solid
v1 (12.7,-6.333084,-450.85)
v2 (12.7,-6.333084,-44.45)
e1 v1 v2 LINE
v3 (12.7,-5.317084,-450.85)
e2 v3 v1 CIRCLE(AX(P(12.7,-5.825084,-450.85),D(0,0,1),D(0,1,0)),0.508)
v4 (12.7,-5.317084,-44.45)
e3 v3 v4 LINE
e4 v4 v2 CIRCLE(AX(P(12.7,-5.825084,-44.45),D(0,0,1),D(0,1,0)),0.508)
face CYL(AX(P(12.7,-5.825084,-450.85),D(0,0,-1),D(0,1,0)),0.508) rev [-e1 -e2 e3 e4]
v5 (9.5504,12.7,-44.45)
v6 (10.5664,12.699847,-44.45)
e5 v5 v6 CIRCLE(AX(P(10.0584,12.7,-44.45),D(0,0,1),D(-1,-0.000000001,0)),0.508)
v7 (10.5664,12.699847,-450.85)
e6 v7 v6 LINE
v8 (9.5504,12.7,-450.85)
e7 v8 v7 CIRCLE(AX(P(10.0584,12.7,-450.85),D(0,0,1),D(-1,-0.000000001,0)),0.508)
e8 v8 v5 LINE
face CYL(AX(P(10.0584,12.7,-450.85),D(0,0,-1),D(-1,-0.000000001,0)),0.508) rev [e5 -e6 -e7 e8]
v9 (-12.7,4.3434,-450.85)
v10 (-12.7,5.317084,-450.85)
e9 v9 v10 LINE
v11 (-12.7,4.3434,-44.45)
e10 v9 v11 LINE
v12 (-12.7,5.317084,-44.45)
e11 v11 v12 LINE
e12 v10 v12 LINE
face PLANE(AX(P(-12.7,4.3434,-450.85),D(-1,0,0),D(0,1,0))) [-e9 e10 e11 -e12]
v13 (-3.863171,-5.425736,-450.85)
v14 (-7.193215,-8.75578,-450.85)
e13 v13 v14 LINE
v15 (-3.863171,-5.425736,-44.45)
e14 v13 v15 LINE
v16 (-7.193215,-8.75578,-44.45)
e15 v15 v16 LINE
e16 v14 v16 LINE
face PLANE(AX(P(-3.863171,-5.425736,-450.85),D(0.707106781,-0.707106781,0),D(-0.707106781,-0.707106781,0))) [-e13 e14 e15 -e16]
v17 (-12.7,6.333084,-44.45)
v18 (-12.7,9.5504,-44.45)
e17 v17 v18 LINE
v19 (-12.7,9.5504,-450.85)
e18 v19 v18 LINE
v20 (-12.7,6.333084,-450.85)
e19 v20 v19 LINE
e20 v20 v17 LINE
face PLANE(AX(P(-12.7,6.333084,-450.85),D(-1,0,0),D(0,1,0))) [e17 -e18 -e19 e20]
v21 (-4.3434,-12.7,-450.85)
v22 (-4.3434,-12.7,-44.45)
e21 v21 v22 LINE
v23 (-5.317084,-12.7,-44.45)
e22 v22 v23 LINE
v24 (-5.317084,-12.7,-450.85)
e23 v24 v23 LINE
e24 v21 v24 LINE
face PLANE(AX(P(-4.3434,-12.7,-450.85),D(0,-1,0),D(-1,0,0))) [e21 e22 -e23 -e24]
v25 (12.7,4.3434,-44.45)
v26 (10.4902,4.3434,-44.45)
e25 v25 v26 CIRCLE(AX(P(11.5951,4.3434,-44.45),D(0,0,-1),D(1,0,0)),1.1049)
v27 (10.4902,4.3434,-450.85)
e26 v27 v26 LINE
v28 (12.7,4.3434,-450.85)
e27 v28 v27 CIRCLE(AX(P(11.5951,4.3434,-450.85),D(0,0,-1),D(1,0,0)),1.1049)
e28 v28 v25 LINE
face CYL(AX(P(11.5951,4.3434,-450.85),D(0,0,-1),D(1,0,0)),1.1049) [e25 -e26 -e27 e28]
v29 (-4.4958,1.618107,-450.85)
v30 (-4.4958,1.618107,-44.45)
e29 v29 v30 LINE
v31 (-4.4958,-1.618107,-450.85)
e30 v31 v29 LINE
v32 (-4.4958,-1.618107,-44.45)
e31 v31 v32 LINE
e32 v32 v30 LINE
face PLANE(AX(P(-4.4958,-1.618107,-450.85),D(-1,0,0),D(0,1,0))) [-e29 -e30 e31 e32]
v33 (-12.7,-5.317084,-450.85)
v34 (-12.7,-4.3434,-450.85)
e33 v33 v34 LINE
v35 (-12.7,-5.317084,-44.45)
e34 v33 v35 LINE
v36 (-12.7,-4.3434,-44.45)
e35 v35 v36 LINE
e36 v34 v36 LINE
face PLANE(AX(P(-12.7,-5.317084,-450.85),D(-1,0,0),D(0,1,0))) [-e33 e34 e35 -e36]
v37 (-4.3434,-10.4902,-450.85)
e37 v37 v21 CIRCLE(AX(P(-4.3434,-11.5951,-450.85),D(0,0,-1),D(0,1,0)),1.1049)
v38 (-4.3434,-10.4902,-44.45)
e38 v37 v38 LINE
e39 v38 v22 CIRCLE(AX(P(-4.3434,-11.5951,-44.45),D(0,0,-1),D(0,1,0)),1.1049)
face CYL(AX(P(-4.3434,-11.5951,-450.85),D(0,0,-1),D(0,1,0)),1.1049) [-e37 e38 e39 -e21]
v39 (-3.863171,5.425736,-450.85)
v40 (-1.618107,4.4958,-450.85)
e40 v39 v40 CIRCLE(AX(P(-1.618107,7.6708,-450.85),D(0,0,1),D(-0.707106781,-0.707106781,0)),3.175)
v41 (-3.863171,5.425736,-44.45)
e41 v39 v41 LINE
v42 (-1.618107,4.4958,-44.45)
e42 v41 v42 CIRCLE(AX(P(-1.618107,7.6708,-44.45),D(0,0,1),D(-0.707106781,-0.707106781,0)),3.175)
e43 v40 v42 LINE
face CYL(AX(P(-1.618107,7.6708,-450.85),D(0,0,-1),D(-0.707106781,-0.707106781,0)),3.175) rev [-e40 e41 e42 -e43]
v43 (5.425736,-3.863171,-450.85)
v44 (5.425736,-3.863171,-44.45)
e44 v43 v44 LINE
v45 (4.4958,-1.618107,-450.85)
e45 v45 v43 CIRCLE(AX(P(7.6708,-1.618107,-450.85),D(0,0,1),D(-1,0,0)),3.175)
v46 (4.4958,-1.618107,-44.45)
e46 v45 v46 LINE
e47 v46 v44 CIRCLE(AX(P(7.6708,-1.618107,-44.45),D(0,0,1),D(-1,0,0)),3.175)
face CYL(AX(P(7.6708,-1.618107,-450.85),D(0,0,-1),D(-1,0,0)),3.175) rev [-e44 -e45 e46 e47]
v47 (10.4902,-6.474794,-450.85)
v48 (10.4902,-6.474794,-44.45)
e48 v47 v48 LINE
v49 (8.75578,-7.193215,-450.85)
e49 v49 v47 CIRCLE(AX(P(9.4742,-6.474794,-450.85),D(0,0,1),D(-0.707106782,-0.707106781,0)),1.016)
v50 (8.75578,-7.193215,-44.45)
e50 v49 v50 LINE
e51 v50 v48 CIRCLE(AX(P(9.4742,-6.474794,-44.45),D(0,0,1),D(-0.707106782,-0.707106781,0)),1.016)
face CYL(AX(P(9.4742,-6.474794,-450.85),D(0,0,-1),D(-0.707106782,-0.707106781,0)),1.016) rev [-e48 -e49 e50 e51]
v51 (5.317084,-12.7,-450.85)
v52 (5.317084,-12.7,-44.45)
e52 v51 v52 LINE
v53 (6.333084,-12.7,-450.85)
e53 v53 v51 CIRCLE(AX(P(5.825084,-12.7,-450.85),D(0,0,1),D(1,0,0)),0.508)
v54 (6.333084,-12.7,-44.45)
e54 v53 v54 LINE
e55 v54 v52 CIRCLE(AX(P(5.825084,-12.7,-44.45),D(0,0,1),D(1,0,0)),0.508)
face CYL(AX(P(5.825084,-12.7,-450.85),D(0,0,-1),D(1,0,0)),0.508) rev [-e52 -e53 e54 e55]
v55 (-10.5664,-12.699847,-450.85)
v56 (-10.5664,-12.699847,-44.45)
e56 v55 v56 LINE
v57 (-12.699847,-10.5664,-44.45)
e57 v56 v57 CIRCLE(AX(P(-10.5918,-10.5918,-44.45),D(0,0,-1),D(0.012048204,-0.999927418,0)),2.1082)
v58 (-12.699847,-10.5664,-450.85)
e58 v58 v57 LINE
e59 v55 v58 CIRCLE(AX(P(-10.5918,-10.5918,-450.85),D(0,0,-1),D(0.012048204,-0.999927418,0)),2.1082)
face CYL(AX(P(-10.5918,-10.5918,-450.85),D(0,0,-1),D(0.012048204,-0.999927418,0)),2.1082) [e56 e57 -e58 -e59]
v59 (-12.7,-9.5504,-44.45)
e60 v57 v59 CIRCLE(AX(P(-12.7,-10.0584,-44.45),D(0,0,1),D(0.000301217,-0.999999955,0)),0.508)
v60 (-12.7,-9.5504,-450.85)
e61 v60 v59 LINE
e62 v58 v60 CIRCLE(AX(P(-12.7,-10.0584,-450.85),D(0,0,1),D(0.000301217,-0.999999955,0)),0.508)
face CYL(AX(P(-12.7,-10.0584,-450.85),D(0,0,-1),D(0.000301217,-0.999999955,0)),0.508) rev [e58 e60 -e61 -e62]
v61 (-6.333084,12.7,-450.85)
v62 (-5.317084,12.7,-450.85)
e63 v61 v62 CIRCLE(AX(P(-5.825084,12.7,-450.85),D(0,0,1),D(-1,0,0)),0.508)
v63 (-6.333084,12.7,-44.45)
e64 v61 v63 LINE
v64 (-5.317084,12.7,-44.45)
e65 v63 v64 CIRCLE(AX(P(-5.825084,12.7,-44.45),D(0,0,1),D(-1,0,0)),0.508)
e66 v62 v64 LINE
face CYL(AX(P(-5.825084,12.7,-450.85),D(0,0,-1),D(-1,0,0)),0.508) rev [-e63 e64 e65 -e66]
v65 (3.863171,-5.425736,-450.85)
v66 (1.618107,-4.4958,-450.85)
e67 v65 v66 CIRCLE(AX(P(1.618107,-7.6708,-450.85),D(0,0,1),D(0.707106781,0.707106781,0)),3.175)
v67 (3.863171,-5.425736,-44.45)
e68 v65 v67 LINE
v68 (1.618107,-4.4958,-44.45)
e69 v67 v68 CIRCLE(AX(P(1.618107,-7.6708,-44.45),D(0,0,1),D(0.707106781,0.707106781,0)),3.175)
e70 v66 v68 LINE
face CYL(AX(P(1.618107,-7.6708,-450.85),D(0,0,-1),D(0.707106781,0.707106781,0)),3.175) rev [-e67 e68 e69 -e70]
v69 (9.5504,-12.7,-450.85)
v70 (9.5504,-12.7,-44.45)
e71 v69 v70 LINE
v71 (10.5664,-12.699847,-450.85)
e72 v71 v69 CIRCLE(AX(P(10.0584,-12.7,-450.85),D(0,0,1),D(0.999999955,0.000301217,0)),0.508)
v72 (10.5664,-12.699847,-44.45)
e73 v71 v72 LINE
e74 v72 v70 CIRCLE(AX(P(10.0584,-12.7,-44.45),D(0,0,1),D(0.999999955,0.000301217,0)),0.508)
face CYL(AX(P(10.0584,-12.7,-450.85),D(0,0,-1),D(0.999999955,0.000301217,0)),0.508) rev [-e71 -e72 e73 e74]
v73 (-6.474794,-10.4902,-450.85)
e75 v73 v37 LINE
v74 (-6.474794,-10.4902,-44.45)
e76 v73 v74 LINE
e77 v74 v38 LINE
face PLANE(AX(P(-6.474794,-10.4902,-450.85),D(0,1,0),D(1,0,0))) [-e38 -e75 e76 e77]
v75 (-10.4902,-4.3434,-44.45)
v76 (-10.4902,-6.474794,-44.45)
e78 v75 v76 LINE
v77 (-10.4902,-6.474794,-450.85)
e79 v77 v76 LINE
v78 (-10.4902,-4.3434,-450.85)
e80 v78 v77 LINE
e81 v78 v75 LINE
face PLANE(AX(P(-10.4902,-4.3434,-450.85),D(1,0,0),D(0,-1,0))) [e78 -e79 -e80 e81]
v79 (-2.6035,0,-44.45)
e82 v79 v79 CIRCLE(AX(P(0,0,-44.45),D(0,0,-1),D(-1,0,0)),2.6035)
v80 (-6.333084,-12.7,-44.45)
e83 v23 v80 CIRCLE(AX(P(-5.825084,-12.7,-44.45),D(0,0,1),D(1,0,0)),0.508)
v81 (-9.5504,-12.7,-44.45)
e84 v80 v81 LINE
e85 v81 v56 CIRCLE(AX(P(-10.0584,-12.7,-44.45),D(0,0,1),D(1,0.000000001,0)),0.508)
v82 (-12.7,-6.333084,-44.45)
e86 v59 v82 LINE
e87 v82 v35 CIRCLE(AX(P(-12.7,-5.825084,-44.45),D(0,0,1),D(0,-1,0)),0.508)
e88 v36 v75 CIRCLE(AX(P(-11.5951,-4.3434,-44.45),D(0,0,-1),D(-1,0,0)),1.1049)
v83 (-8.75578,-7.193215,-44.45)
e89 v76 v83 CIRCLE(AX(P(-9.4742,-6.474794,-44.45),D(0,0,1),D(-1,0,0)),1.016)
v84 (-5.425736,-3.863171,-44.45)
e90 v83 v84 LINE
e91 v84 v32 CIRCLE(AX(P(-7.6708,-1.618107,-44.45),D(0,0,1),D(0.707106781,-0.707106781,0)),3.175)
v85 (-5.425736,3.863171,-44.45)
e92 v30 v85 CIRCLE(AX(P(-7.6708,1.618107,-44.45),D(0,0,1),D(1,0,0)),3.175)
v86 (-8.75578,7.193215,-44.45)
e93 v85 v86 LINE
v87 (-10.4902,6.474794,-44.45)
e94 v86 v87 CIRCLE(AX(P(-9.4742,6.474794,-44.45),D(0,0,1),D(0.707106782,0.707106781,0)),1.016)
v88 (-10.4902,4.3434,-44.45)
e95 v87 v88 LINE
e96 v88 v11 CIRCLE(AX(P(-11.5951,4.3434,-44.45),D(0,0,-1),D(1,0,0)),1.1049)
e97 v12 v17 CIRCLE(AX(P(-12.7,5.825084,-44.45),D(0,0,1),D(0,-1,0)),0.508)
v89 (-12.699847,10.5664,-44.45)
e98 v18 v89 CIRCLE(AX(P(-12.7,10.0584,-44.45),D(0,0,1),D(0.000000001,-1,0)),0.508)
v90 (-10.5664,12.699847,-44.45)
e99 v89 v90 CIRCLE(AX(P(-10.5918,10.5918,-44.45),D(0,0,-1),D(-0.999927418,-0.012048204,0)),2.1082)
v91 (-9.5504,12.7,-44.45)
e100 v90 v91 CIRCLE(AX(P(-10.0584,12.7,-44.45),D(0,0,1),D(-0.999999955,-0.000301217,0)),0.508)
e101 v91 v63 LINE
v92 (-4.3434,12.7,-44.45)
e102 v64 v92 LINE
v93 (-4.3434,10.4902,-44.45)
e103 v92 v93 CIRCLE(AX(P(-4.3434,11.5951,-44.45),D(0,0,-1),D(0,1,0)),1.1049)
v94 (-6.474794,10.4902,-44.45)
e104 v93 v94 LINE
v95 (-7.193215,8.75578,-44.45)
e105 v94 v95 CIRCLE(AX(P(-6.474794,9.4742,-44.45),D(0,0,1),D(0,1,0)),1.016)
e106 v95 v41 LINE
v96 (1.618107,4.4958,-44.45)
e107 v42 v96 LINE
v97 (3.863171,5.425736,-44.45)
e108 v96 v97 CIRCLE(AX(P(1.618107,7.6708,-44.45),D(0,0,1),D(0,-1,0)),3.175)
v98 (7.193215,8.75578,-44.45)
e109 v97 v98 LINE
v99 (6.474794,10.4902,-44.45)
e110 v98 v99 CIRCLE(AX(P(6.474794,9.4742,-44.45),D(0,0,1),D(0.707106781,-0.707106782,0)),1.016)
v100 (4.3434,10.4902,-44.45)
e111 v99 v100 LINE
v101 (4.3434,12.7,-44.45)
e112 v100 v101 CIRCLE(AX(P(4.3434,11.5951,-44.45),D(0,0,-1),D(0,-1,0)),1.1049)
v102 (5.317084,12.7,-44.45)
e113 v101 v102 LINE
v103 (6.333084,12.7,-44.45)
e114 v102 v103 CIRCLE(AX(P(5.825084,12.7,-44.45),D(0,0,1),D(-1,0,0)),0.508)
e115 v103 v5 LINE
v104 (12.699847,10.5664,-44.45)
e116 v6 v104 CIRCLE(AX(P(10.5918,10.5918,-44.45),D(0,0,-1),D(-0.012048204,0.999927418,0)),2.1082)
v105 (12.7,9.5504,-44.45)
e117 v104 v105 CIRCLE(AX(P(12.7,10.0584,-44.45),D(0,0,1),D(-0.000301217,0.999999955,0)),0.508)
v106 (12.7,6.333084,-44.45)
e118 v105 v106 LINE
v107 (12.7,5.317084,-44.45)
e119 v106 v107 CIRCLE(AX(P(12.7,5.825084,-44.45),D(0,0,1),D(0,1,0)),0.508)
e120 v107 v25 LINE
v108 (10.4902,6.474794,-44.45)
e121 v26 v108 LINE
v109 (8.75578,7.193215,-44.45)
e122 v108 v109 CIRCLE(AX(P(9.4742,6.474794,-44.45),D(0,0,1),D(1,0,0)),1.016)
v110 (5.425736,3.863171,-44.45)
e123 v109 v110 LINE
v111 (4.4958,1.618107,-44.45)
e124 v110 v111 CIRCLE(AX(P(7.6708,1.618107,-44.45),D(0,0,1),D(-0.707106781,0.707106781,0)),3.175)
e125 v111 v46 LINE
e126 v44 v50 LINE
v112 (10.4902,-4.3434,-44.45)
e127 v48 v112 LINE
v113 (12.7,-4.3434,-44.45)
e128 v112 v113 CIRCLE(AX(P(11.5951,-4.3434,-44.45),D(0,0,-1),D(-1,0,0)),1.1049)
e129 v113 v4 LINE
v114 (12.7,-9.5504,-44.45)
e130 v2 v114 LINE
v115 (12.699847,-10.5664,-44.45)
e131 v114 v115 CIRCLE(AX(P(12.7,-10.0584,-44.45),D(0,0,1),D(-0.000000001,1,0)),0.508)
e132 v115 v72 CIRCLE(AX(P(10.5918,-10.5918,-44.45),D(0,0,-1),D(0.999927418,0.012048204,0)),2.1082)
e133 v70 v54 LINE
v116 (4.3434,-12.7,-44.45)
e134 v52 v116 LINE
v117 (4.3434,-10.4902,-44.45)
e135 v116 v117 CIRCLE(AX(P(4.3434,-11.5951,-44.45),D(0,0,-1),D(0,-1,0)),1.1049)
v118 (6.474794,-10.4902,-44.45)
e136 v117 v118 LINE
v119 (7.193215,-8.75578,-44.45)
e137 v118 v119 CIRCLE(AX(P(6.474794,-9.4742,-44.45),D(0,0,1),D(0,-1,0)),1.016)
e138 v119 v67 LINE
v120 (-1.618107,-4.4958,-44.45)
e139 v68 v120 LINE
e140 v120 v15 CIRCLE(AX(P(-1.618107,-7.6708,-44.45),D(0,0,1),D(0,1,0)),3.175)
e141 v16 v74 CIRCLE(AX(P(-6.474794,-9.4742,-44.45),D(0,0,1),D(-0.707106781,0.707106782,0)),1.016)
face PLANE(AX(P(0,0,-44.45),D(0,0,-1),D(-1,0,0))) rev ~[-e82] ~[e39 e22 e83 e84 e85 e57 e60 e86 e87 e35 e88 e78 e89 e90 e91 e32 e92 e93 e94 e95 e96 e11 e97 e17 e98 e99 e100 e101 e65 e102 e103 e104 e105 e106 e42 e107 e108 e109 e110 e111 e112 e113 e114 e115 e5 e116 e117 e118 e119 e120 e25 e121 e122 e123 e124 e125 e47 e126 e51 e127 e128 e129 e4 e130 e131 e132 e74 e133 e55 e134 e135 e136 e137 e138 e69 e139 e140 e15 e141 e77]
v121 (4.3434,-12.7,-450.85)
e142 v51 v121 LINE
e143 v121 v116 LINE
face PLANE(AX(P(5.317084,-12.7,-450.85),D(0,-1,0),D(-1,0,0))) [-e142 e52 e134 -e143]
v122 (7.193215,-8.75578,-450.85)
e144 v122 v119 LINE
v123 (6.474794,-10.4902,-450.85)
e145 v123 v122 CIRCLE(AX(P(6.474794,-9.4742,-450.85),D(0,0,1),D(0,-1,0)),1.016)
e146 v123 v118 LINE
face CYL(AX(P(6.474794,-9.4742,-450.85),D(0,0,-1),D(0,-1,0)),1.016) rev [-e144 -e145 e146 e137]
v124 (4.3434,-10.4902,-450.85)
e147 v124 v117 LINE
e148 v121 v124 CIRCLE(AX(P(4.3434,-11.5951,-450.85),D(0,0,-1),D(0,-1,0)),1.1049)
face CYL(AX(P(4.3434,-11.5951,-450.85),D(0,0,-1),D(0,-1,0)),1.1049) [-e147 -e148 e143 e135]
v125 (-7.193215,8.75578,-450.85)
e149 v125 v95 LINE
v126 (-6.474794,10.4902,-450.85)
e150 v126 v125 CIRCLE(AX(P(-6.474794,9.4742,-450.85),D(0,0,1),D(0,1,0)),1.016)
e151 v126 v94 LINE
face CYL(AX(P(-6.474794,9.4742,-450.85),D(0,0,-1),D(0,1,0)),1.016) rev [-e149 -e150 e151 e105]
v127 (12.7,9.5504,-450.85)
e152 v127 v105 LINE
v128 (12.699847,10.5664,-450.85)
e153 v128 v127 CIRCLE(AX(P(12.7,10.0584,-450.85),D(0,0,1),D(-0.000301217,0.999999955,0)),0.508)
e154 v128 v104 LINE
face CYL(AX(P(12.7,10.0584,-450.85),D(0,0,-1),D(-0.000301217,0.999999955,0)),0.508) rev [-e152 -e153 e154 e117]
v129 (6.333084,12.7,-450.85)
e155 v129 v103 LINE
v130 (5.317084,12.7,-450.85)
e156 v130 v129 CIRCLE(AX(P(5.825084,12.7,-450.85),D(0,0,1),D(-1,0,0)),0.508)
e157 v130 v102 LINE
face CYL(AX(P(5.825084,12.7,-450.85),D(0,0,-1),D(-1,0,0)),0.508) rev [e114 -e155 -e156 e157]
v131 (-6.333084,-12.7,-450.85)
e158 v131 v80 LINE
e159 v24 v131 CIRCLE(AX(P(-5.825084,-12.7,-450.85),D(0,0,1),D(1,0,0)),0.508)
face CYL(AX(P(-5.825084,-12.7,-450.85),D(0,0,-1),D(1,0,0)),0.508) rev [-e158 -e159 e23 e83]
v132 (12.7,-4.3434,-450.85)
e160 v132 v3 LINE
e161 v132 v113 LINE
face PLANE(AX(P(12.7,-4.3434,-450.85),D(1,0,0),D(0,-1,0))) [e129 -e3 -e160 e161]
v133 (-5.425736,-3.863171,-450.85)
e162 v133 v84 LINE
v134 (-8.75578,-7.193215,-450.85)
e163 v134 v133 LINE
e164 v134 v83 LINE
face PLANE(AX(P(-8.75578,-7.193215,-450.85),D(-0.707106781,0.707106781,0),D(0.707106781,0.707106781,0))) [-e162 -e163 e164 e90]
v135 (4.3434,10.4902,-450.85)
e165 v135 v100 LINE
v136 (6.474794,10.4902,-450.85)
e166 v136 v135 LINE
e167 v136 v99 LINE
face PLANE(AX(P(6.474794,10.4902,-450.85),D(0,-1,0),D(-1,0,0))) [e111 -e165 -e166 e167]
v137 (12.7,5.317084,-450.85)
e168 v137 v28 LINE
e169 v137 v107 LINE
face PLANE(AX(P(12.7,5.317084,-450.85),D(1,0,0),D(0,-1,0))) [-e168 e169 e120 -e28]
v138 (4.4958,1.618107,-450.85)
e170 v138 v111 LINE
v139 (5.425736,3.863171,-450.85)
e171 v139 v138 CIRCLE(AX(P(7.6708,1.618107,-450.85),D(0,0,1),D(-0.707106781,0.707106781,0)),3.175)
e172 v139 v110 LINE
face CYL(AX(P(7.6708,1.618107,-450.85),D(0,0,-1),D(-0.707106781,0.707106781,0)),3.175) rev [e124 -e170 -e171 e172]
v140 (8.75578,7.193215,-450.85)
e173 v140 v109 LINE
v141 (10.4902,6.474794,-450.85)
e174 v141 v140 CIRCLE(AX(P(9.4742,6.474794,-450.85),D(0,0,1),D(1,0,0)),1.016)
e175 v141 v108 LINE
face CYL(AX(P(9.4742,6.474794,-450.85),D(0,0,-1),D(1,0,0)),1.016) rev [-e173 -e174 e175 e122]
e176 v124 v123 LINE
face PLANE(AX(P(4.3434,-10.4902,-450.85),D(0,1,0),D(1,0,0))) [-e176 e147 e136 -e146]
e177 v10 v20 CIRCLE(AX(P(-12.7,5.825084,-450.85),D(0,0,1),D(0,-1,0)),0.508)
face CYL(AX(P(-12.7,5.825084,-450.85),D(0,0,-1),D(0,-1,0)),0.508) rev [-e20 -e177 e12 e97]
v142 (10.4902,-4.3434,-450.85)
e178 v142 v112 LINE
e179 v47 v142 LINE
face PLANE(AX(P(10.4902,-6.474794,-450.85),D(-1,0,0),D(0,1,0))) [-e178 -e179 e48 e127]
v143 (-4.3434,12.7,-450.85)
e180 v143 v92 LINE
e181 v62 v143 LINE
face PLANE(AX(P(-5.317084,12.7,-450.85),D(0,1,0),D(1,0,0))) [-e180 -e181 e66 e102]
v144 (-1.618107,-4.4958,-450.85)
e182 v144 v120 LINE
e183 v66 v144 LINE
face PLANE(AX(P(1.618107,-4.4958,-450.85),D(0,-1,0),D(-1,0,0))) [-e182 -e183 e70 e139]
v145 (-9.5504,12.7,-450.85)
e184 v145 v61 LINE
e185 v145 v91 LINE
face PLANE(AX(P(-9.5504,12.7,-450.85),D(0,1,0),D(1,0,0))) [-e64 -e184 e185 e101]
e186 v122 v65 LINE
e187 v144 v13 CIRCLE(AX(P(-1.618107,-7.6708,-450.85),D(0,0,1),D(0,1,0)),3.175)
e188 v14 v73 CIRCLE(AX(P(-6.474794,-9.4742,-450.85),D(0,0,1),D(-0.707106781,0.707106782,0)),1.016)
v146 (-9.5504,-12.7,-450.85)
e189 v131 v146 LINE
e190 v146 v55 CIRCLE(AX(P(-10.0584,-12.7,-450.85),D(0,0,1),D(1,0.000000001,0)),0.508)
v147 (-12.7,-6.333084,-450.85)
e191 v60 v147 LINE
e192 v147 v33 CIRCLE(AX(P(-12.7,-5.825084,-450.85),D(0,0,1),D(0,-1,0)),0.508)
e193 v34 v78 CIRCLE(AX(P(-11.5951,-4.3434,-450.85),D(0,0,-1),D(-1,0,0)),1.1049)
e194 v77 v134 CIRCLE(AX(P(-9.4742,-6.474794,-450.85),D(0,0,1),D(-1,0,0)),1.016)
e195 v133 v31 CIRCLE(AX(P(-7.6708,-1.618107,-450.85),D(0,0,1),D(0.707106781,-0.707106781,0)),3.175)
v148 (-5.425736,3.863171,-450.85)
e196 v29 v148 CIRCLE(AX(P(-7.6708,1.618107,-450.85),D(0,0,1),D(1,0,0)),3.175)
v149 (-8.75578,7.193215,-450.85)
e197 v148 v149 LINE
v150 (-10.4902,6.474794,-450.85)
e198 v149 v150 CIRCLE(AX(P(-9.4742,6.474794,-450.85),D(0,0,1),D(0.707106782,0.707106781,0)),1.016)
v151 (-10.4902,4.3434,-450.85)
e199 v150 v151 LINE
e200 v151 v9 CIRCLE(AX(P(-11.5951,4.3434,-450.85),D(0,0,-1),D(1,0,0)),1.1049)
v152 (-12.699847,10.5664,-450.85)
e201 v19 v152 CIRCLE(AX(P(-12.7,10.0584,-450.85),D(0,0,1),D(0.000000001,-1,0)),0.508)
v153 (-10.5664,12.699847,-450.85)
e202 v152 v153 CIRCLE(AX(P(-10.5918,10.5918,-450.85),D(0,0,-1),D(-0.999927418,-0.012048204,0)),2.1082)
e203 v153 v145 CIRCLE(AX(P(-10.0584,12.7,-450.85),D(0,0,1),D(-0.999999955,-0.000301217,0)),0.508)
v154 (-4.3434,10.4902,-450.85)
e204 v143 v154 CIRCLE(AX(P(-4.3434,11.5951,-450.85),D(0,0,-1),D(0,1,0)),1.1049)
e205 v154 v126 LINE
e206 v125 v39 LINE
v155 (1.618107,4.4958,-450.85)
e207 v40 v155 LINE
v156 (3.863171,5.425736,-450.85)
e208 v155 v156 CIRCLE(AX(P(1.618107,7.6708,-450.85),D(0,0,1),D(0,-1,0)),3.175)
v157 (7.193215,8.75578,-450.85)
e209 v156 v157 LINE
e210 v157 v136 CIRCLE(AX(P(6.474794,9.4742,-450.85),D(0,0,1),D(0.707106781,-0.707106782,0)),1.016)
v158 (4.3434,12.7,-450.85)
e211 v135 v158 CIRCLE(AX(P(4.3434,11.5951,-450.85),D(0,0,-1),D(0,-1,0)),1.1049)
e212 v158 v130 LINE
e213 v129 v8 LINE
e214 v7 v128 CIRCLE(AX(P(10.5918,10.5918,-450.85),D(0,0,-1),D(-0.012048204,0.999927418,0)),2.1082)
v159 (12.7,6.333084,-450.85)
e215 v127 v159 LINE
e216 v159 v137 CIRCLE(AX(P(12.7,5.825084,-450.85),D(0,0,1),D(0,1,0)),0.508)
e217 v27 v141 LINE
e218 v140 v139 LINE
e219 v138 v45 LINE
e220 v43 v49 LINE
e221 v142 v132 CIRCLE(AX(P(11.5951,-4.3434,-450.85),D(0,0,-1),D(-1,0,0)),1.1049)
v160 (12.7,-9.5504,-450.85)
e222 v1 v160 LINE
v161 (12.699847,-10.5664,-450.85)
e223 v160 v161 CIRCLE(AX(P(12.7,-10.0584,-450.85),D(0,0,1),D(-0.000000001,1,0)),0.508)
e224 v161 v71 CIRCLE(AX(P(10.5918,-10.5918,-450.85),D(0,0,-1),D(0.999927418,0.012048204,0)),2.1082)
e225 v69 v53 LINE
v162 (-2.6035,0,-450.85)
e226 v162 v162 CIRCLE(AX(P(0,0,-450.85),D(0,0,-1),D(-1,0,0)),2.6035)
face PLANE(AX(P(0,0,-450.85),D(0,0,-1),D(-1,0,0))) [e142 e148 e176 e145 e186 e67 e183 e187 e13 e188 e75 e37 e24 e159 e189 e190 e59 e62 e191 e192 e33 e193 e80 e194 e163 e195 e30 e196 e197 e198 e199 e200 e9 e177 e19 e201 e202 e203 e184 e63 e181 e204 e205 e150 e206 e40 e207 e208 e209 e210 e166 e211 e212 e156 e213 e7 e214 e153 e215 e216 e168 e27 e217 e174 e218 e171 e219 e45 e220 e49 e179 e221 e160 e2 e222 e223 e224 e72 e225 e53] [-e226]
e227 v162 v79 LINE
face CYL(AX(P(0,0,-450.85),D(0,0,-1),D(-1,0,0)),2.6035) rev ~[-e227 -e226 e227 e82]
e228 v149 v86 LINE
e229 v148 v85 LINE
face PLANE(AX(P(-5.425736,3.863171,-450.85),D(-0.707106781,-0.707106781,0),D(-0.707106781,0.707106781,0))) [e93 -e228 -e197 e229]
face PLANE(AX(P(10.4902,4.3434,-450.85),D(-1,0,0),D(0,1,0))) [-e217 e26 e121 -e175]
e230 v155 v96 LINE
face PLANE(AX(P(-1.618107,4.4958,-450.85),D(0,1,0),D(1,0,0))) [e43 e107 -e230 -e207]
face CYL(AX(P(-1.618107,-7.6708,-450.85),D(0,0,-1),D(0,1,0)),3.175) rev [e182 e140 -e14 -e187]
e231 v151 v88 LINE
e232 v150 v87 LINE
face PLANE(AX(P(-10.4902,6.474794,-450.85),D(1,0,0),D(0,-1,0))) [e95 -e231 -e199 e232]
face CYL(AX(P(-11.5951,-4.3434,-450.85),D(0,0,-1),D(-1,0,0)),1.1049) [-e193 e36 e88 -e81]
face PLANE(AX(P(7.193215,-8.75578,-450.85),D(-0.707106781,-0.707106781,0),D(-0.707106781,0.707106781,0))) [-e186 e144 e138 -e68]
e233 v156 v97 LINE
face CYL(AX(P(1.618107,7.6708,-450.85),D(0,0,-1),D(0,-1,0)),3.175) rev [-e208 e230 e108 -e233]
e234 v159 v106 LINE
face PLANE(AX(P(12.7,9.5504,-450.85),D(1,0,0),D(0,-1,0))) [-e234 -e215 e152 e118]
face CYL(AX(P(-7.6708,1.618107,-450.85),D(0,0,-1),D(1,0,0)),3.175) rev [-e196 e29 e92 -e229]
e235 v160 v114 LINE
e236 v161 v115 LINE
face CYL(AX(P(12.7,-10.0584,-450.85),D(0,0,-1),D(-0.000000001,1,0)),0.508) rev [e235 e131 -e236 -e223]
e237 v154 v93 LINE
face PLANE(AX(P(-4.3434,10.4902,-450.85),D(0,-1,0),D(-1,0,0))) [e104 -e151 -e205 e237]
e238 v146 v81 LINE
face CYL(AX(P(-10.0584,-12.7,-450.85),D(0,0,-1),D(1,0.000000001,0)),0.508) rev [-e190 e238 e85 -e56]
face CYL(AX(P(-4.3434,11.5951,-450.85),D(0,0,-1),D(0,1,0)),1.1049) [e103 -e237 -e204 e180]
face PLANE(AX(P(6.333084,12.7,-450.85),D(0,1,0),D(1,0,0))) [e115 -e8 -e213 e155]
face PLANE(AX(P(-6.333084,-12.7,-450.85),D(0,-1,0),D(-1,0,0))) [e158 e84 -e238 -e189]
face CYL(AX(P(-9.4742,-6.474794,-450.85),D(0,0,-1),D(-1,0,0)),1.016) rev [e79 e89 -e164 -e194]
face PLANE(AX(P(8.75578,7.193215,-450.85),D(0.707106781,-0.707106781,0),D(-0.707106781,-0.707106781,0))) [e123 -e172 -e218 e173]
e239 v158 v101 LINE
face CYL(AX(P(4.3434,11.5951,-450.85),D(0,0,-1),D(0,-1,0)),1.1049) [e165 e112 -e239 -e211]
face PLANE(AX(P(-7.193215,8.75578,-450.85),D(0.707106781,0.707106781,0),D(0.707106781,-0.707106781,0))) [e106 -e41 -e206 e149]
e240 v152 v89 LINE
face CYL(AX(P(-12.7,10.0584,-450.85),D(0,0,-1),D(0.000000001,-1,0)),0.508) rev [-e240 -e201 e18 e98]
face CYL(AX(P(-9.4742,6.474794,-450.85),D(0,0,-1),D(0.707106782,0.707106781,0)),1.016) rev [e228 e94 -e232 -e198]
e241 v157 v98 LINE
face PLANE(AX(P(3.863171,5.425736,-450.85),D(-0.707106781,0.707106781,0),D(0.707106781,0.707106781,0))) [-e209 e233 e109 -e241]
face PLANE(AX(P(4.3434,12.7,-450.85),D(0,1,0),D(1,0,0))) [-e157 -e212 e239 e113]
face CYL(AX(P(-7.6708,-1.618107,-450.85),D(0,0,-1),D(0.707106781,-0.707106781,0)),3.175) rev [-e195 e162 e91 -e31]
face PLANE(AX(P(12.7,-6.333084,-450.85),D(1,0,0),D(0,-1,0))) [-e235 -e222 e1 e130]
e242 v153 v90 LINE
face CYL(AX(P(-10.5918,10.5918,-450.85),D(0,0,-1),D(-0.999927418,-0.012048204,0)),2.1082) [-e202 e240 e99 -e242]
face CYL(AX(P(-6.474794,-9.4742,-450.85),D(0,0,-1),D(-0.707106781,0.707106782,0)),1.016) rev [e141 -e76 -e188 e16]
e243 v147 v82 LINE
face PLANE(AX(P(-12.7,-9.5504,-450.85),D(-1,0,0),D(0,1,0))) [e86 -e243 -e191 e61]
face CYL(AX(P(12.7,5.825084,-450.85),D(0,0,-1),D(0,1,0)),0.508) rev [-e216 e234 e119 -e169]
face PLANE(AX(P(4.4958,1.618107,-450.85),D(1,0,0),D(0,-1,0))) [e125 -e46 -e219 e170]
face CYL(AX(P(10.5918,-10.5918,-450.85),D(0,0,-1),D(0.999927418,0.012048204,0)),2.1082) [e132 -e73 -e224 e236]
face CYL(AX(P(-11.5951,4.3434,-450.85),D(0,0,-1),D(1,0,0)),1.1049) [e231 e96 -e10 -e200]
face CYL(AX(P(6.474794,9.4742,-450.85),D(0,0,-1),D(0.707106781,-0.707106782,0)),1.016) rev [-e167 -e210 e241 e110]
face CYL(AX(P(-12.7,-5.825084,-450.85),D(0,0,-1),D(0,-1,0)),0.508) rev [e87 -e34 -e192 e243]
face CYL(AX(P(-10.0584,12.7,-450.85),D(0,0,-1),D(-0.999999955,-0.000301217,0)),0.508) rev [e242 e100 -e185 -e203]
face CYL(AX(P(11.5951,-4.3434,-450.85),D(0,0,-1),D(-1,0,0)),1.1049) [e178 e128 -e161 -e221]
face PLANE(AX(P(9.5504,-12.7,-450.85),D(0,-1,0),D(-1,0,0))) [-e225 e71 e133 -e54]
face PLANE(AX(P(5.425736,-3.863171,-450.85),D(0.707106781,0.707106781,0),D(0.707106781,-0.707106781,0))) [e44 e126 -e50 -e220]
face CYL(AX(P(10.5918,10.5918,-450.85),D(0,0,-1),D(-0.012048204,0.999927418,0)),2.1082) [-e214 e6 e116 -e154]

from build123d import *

# Parameters (mm, degrees)
SKETCH1_R           = 2.6035
BOSS_EXTRUDE1_DEPTH = 406.4


with BuildPart() as part:
    # Sketch1 → Boss-Extrude1 (new body)
    with BuildSketch(Plane(origin=(0, 0, -450.85), x_dir=(-1, 0, 0), z_dir=(0, 0, -1))):
        with BuildLine():
            Line((12.7, -9.5504), (12.7, -6.3330836))
            ThreePointArc((12.7, -6.3330836), (12.192, -5.8250836), (12.7, -5.3170836))
            Line((12.7, -5.3170836), (12.7, -4.3434))
            ThreePointArc((12.7, -4.3434), (11.5951, -3.2385), (10.4902, -4.3434))
            Line((10.4902, -4.3434), (10.4902, -6.474794456))
            ThreePointArc((10.4902, -6.474794456), (9.863006367, -7.413456061), (8.75577951, -7.193214945))
            Line((8.75577951, -7.193214945), (5.42573597, -3.863171405))
            ThreePointArc((5.42573597, -3.863171405), (4.737482484, -2.833127272), (4.4958, -1.618107374))
            Line((4.4958, -1.618107374), (4.4958, 1.618107374))
            ThreePointArc((4.4958, 1.618107374), (4.737482484, 2.833127272), (5.42573597, 3.863171405))
            Line((5.42573597, 3.863171405), (8.75577951, 7.193214945))
            ThreePointArc((8.75577951, 7.193214945), (9.863006367, 7.413456061), (10.4902, 6.474794456))
            Line((10.4902, 6.474794456), (10.4902, 4.343399971))
            ThreePointArc((10.4902, 4.343399971), (11.5951, 3.238499971), (12.7, 4.343399971))
            Line((12.7, 4.343399971), (12.7, 5.3170836))
            ThreePointArc((12.7, 5.3170836), (12.192, 5.8250836), (12.7, 6.3330836))
            Line((12.7, 6.3330836), (12.7, 9.5504))
            ThreePointArc((12.7, 9.5504), (12.192000006, 10.058323491), (12.699846982, 10.566399977))
            ThreePointArc((12.699846982, 10.566399977), (12.082522516, 12.082522516), (10.566399977, 12.699846982))
            ThreePointArc((10.566399977, 12.699846982), (10.058323491, 12.192000006), (9.5504, 12.7))
            Line((9.5504, 12.7), (6.3330836, 12.7))
            ThreePointArc((6.3330836, 12.7), (5.8250836, 12.192), (5.3170836, 12.7))
            Line((5.3170836, 12.7), (4.3434, 12.7))
            ThreePointArc((4.3434, 12.7), (3.2385, 11.5951), (4.3434, 10.4902))
            Line((4.3434, 10.4902), (6.474794456, 10.4902))
            ThreePointArc((6.474794456, 10.4902), (7.413456061, 9.863006367), (7.193214945, 8.75577951))
            Line((7.193214945, 8.75577951), (3.863171405, 5.42573597))
            ThreePointArc((3.863171405, 5.42573597), (2.833127272, 4.737482484), (1.618107374, 4.4958))
            Line((1.618107374, 4.4958), (-1.618107374, 4.4958))
            ThreePointArc((-1.618107374, 4.4958), (-2.833127272, 4.737482484), (-3.863171405, 5.42573597))
            Line((-3.863171405, 5.42573597), (-7.193214945, 8.75577951))
            ThreePointArc((-7.193214945, 8.75577951), (-7.413456061, 9.863006367), (-6.474794456, 10.4902))
            Line((-6.474794456, 10.4902), (-4.343399971, 10.4902))
            ThreePointArc((-4.343399971, 10.4902), (-3.238499971, 11.5951), (-4.343399971, 12.7))
            Line((-4.343399971, 12.7), (-5.3170836, 12.7))
            ThreePointArc((-5.3170836, 12.7), (-5.8250836, 12.192), (-6.3330836, 12.7))
            Line((-6.3330836, 12.7), (-9.5504, 12.7))
            ThreePointArc((-9.5504, 12.7), (-10.058323491, 12.192000006), (-10.566399977, 12.699846982))
            ThreePointArc((-10.566399977, 12.699846982), (-12.082522516, 12.082522516), (-12.699846982, 10.566399977))
            ThreePointArc((-12.699846982, 10.566399977), (-12.192000006, 10.058323491), (-12.7, 9.5504))
            Line((-12.7, 9.5504), (-12.7, 6.3330836))
            ThreePointArc((-12.7, 6.3330836), (-12.192, 5.8250836), (-12.7, 5.3170836))
            Line((-12.7, 5.3170836), (-12.7, 4.3434))
            ThreePointArc((-12.7, 4.3434), (-11.5951, 3.2385), (-10.4902, 4.3434))
            Line((-10.4902, 4.3434), (-10.4902, 6.474794456))
            ThreePointArc((-10.4902, 6.474794456), (-9.863006367, 7.413456061), (-8.75577951, 7.193214945))
            Line((-8.75577951, 7.193214945), (-5.42573597, 3.863171405))
            ThreePointArc((-5.42573597, 3.863171405), (-4.737482484, 2.833127272), (-4.4958, 1.618107374))
            Line((-4.4958, 1.618107374), (-4.4958, -1.618107374))
            ThreePointArc((-4.4958, -1.618107374), (-4.737482484, -2.833127272), (-5.42573597, -3.863171405))
            Line((-5.42573597, -3.863171405), (-8.75577951, -7.193214945))
            ThreePointArc((-8.75577951, -7.193214945), (-9.863006367, -7.413456061), (-10.4902, -6.474794456))
            Line((-10.4902, -6.474794456), (-10.4902, -4.343399971))
            ThreePointArc((-10.4902, -4.343399971), (-11.5951, -3.238499971), (-12.7, -4.343399971))
            Line((-12.7, -4.343399971), (-12.7, -5.3170836))
            ThreePointArc((-12.7, -5.3170836), (-12.192, -5.8250836), (-12.7, -6.3330836))
            Line((-12.7, -6.3330836), (-12.7, -9.5504))
            ThreePointArc((-12.7, -9.5504), (-12.192000006, -10.058323491), (-12.699846982, -10.566399977))
            ThreePointArc((-12.699846982, -10.566399977), (-12.082522516, -12.082522516), (-10.566399977, -12.699846982))
            ThreePointArc((-10.566399977, -12.699846982), (-10.058323491, -12.192000006), (-9.5504, -12.7))
            Line((-9.5504, -12.7), (-6.3330836, -12.7))
            ThreePointArc((-6.3330836, -12.7), (-5.8250836, -12.192), (-5.3170836, -12.7))
            Line((-5.3170836, -12.7), (-4.3434, -12.7))
            ThreePointArc((-4.3434, -12.7), (-3.2385, -11.5951), (-4.3434, -10.4902))
            Line((-4.3434, -10.4902), (-6.474794456, -10.4902))
            ThreePointArc((-6.474794456, -10.4902), (-7.413456061, -9.863006367), (-7.193214945, -8.75577951))
            Line((-7.193214945, -8.75577951), (-3.863171405, -5.42573597))
            ThreePointArc((-3.863171405, -5.42573597), (-2.833127272, -4.737482484), (-1.618107374, -4.4958))
            Line((-1.618107374, -4.4958), (1.618107374, -4.4958))
            ThreePointArc((1.618107374, -4.4958), (2.833127272, -4.737482484), (3.863171405, -5.42573597))
            Line((3.863171405, -5.42573597), (7.193214945, -8.75577951))
            ThreePointArc((7.193214945, -8.75577951), (7.413456061, -9.863006367), (6.474794456, -10.4902))
            Line((6.474794456, -10.4902), (4.343399971, -10.4902))
            ThreePointArc((4.343399971, -10.4902), (3.238499971, -11.5951), (4.343399971, -12.7))
            Line((4.343399971, -12.7), (5.3170836, -12.7))
            ThreePointArc((5.3170836, -12.7), (5.8250836, -12.192), (6.3330836, -12.7))
            Line((6.3330836, -12.7), (9.5504, -12.7))
            ThreePointArc((9.5504, -12.7), (10.058323491, -12.192000006), (10.566399977, -12.699846982))
            ThreePointArc((10.566399977, -12.699846982), (12.082522516, -12.082522516), (12.699846982, -10.566399977))
            ThreePointArc((12.699846982, -10.566399977), (12.192000006, -10.058323491), (12.7, -9.5504))
        make_face()
        Circle(SKETCH1_R, mode=Mode.SUBTRACT)
    extrude(amount=-BOSS_EXTRUDE1_DEPTH)


solid = part.part
